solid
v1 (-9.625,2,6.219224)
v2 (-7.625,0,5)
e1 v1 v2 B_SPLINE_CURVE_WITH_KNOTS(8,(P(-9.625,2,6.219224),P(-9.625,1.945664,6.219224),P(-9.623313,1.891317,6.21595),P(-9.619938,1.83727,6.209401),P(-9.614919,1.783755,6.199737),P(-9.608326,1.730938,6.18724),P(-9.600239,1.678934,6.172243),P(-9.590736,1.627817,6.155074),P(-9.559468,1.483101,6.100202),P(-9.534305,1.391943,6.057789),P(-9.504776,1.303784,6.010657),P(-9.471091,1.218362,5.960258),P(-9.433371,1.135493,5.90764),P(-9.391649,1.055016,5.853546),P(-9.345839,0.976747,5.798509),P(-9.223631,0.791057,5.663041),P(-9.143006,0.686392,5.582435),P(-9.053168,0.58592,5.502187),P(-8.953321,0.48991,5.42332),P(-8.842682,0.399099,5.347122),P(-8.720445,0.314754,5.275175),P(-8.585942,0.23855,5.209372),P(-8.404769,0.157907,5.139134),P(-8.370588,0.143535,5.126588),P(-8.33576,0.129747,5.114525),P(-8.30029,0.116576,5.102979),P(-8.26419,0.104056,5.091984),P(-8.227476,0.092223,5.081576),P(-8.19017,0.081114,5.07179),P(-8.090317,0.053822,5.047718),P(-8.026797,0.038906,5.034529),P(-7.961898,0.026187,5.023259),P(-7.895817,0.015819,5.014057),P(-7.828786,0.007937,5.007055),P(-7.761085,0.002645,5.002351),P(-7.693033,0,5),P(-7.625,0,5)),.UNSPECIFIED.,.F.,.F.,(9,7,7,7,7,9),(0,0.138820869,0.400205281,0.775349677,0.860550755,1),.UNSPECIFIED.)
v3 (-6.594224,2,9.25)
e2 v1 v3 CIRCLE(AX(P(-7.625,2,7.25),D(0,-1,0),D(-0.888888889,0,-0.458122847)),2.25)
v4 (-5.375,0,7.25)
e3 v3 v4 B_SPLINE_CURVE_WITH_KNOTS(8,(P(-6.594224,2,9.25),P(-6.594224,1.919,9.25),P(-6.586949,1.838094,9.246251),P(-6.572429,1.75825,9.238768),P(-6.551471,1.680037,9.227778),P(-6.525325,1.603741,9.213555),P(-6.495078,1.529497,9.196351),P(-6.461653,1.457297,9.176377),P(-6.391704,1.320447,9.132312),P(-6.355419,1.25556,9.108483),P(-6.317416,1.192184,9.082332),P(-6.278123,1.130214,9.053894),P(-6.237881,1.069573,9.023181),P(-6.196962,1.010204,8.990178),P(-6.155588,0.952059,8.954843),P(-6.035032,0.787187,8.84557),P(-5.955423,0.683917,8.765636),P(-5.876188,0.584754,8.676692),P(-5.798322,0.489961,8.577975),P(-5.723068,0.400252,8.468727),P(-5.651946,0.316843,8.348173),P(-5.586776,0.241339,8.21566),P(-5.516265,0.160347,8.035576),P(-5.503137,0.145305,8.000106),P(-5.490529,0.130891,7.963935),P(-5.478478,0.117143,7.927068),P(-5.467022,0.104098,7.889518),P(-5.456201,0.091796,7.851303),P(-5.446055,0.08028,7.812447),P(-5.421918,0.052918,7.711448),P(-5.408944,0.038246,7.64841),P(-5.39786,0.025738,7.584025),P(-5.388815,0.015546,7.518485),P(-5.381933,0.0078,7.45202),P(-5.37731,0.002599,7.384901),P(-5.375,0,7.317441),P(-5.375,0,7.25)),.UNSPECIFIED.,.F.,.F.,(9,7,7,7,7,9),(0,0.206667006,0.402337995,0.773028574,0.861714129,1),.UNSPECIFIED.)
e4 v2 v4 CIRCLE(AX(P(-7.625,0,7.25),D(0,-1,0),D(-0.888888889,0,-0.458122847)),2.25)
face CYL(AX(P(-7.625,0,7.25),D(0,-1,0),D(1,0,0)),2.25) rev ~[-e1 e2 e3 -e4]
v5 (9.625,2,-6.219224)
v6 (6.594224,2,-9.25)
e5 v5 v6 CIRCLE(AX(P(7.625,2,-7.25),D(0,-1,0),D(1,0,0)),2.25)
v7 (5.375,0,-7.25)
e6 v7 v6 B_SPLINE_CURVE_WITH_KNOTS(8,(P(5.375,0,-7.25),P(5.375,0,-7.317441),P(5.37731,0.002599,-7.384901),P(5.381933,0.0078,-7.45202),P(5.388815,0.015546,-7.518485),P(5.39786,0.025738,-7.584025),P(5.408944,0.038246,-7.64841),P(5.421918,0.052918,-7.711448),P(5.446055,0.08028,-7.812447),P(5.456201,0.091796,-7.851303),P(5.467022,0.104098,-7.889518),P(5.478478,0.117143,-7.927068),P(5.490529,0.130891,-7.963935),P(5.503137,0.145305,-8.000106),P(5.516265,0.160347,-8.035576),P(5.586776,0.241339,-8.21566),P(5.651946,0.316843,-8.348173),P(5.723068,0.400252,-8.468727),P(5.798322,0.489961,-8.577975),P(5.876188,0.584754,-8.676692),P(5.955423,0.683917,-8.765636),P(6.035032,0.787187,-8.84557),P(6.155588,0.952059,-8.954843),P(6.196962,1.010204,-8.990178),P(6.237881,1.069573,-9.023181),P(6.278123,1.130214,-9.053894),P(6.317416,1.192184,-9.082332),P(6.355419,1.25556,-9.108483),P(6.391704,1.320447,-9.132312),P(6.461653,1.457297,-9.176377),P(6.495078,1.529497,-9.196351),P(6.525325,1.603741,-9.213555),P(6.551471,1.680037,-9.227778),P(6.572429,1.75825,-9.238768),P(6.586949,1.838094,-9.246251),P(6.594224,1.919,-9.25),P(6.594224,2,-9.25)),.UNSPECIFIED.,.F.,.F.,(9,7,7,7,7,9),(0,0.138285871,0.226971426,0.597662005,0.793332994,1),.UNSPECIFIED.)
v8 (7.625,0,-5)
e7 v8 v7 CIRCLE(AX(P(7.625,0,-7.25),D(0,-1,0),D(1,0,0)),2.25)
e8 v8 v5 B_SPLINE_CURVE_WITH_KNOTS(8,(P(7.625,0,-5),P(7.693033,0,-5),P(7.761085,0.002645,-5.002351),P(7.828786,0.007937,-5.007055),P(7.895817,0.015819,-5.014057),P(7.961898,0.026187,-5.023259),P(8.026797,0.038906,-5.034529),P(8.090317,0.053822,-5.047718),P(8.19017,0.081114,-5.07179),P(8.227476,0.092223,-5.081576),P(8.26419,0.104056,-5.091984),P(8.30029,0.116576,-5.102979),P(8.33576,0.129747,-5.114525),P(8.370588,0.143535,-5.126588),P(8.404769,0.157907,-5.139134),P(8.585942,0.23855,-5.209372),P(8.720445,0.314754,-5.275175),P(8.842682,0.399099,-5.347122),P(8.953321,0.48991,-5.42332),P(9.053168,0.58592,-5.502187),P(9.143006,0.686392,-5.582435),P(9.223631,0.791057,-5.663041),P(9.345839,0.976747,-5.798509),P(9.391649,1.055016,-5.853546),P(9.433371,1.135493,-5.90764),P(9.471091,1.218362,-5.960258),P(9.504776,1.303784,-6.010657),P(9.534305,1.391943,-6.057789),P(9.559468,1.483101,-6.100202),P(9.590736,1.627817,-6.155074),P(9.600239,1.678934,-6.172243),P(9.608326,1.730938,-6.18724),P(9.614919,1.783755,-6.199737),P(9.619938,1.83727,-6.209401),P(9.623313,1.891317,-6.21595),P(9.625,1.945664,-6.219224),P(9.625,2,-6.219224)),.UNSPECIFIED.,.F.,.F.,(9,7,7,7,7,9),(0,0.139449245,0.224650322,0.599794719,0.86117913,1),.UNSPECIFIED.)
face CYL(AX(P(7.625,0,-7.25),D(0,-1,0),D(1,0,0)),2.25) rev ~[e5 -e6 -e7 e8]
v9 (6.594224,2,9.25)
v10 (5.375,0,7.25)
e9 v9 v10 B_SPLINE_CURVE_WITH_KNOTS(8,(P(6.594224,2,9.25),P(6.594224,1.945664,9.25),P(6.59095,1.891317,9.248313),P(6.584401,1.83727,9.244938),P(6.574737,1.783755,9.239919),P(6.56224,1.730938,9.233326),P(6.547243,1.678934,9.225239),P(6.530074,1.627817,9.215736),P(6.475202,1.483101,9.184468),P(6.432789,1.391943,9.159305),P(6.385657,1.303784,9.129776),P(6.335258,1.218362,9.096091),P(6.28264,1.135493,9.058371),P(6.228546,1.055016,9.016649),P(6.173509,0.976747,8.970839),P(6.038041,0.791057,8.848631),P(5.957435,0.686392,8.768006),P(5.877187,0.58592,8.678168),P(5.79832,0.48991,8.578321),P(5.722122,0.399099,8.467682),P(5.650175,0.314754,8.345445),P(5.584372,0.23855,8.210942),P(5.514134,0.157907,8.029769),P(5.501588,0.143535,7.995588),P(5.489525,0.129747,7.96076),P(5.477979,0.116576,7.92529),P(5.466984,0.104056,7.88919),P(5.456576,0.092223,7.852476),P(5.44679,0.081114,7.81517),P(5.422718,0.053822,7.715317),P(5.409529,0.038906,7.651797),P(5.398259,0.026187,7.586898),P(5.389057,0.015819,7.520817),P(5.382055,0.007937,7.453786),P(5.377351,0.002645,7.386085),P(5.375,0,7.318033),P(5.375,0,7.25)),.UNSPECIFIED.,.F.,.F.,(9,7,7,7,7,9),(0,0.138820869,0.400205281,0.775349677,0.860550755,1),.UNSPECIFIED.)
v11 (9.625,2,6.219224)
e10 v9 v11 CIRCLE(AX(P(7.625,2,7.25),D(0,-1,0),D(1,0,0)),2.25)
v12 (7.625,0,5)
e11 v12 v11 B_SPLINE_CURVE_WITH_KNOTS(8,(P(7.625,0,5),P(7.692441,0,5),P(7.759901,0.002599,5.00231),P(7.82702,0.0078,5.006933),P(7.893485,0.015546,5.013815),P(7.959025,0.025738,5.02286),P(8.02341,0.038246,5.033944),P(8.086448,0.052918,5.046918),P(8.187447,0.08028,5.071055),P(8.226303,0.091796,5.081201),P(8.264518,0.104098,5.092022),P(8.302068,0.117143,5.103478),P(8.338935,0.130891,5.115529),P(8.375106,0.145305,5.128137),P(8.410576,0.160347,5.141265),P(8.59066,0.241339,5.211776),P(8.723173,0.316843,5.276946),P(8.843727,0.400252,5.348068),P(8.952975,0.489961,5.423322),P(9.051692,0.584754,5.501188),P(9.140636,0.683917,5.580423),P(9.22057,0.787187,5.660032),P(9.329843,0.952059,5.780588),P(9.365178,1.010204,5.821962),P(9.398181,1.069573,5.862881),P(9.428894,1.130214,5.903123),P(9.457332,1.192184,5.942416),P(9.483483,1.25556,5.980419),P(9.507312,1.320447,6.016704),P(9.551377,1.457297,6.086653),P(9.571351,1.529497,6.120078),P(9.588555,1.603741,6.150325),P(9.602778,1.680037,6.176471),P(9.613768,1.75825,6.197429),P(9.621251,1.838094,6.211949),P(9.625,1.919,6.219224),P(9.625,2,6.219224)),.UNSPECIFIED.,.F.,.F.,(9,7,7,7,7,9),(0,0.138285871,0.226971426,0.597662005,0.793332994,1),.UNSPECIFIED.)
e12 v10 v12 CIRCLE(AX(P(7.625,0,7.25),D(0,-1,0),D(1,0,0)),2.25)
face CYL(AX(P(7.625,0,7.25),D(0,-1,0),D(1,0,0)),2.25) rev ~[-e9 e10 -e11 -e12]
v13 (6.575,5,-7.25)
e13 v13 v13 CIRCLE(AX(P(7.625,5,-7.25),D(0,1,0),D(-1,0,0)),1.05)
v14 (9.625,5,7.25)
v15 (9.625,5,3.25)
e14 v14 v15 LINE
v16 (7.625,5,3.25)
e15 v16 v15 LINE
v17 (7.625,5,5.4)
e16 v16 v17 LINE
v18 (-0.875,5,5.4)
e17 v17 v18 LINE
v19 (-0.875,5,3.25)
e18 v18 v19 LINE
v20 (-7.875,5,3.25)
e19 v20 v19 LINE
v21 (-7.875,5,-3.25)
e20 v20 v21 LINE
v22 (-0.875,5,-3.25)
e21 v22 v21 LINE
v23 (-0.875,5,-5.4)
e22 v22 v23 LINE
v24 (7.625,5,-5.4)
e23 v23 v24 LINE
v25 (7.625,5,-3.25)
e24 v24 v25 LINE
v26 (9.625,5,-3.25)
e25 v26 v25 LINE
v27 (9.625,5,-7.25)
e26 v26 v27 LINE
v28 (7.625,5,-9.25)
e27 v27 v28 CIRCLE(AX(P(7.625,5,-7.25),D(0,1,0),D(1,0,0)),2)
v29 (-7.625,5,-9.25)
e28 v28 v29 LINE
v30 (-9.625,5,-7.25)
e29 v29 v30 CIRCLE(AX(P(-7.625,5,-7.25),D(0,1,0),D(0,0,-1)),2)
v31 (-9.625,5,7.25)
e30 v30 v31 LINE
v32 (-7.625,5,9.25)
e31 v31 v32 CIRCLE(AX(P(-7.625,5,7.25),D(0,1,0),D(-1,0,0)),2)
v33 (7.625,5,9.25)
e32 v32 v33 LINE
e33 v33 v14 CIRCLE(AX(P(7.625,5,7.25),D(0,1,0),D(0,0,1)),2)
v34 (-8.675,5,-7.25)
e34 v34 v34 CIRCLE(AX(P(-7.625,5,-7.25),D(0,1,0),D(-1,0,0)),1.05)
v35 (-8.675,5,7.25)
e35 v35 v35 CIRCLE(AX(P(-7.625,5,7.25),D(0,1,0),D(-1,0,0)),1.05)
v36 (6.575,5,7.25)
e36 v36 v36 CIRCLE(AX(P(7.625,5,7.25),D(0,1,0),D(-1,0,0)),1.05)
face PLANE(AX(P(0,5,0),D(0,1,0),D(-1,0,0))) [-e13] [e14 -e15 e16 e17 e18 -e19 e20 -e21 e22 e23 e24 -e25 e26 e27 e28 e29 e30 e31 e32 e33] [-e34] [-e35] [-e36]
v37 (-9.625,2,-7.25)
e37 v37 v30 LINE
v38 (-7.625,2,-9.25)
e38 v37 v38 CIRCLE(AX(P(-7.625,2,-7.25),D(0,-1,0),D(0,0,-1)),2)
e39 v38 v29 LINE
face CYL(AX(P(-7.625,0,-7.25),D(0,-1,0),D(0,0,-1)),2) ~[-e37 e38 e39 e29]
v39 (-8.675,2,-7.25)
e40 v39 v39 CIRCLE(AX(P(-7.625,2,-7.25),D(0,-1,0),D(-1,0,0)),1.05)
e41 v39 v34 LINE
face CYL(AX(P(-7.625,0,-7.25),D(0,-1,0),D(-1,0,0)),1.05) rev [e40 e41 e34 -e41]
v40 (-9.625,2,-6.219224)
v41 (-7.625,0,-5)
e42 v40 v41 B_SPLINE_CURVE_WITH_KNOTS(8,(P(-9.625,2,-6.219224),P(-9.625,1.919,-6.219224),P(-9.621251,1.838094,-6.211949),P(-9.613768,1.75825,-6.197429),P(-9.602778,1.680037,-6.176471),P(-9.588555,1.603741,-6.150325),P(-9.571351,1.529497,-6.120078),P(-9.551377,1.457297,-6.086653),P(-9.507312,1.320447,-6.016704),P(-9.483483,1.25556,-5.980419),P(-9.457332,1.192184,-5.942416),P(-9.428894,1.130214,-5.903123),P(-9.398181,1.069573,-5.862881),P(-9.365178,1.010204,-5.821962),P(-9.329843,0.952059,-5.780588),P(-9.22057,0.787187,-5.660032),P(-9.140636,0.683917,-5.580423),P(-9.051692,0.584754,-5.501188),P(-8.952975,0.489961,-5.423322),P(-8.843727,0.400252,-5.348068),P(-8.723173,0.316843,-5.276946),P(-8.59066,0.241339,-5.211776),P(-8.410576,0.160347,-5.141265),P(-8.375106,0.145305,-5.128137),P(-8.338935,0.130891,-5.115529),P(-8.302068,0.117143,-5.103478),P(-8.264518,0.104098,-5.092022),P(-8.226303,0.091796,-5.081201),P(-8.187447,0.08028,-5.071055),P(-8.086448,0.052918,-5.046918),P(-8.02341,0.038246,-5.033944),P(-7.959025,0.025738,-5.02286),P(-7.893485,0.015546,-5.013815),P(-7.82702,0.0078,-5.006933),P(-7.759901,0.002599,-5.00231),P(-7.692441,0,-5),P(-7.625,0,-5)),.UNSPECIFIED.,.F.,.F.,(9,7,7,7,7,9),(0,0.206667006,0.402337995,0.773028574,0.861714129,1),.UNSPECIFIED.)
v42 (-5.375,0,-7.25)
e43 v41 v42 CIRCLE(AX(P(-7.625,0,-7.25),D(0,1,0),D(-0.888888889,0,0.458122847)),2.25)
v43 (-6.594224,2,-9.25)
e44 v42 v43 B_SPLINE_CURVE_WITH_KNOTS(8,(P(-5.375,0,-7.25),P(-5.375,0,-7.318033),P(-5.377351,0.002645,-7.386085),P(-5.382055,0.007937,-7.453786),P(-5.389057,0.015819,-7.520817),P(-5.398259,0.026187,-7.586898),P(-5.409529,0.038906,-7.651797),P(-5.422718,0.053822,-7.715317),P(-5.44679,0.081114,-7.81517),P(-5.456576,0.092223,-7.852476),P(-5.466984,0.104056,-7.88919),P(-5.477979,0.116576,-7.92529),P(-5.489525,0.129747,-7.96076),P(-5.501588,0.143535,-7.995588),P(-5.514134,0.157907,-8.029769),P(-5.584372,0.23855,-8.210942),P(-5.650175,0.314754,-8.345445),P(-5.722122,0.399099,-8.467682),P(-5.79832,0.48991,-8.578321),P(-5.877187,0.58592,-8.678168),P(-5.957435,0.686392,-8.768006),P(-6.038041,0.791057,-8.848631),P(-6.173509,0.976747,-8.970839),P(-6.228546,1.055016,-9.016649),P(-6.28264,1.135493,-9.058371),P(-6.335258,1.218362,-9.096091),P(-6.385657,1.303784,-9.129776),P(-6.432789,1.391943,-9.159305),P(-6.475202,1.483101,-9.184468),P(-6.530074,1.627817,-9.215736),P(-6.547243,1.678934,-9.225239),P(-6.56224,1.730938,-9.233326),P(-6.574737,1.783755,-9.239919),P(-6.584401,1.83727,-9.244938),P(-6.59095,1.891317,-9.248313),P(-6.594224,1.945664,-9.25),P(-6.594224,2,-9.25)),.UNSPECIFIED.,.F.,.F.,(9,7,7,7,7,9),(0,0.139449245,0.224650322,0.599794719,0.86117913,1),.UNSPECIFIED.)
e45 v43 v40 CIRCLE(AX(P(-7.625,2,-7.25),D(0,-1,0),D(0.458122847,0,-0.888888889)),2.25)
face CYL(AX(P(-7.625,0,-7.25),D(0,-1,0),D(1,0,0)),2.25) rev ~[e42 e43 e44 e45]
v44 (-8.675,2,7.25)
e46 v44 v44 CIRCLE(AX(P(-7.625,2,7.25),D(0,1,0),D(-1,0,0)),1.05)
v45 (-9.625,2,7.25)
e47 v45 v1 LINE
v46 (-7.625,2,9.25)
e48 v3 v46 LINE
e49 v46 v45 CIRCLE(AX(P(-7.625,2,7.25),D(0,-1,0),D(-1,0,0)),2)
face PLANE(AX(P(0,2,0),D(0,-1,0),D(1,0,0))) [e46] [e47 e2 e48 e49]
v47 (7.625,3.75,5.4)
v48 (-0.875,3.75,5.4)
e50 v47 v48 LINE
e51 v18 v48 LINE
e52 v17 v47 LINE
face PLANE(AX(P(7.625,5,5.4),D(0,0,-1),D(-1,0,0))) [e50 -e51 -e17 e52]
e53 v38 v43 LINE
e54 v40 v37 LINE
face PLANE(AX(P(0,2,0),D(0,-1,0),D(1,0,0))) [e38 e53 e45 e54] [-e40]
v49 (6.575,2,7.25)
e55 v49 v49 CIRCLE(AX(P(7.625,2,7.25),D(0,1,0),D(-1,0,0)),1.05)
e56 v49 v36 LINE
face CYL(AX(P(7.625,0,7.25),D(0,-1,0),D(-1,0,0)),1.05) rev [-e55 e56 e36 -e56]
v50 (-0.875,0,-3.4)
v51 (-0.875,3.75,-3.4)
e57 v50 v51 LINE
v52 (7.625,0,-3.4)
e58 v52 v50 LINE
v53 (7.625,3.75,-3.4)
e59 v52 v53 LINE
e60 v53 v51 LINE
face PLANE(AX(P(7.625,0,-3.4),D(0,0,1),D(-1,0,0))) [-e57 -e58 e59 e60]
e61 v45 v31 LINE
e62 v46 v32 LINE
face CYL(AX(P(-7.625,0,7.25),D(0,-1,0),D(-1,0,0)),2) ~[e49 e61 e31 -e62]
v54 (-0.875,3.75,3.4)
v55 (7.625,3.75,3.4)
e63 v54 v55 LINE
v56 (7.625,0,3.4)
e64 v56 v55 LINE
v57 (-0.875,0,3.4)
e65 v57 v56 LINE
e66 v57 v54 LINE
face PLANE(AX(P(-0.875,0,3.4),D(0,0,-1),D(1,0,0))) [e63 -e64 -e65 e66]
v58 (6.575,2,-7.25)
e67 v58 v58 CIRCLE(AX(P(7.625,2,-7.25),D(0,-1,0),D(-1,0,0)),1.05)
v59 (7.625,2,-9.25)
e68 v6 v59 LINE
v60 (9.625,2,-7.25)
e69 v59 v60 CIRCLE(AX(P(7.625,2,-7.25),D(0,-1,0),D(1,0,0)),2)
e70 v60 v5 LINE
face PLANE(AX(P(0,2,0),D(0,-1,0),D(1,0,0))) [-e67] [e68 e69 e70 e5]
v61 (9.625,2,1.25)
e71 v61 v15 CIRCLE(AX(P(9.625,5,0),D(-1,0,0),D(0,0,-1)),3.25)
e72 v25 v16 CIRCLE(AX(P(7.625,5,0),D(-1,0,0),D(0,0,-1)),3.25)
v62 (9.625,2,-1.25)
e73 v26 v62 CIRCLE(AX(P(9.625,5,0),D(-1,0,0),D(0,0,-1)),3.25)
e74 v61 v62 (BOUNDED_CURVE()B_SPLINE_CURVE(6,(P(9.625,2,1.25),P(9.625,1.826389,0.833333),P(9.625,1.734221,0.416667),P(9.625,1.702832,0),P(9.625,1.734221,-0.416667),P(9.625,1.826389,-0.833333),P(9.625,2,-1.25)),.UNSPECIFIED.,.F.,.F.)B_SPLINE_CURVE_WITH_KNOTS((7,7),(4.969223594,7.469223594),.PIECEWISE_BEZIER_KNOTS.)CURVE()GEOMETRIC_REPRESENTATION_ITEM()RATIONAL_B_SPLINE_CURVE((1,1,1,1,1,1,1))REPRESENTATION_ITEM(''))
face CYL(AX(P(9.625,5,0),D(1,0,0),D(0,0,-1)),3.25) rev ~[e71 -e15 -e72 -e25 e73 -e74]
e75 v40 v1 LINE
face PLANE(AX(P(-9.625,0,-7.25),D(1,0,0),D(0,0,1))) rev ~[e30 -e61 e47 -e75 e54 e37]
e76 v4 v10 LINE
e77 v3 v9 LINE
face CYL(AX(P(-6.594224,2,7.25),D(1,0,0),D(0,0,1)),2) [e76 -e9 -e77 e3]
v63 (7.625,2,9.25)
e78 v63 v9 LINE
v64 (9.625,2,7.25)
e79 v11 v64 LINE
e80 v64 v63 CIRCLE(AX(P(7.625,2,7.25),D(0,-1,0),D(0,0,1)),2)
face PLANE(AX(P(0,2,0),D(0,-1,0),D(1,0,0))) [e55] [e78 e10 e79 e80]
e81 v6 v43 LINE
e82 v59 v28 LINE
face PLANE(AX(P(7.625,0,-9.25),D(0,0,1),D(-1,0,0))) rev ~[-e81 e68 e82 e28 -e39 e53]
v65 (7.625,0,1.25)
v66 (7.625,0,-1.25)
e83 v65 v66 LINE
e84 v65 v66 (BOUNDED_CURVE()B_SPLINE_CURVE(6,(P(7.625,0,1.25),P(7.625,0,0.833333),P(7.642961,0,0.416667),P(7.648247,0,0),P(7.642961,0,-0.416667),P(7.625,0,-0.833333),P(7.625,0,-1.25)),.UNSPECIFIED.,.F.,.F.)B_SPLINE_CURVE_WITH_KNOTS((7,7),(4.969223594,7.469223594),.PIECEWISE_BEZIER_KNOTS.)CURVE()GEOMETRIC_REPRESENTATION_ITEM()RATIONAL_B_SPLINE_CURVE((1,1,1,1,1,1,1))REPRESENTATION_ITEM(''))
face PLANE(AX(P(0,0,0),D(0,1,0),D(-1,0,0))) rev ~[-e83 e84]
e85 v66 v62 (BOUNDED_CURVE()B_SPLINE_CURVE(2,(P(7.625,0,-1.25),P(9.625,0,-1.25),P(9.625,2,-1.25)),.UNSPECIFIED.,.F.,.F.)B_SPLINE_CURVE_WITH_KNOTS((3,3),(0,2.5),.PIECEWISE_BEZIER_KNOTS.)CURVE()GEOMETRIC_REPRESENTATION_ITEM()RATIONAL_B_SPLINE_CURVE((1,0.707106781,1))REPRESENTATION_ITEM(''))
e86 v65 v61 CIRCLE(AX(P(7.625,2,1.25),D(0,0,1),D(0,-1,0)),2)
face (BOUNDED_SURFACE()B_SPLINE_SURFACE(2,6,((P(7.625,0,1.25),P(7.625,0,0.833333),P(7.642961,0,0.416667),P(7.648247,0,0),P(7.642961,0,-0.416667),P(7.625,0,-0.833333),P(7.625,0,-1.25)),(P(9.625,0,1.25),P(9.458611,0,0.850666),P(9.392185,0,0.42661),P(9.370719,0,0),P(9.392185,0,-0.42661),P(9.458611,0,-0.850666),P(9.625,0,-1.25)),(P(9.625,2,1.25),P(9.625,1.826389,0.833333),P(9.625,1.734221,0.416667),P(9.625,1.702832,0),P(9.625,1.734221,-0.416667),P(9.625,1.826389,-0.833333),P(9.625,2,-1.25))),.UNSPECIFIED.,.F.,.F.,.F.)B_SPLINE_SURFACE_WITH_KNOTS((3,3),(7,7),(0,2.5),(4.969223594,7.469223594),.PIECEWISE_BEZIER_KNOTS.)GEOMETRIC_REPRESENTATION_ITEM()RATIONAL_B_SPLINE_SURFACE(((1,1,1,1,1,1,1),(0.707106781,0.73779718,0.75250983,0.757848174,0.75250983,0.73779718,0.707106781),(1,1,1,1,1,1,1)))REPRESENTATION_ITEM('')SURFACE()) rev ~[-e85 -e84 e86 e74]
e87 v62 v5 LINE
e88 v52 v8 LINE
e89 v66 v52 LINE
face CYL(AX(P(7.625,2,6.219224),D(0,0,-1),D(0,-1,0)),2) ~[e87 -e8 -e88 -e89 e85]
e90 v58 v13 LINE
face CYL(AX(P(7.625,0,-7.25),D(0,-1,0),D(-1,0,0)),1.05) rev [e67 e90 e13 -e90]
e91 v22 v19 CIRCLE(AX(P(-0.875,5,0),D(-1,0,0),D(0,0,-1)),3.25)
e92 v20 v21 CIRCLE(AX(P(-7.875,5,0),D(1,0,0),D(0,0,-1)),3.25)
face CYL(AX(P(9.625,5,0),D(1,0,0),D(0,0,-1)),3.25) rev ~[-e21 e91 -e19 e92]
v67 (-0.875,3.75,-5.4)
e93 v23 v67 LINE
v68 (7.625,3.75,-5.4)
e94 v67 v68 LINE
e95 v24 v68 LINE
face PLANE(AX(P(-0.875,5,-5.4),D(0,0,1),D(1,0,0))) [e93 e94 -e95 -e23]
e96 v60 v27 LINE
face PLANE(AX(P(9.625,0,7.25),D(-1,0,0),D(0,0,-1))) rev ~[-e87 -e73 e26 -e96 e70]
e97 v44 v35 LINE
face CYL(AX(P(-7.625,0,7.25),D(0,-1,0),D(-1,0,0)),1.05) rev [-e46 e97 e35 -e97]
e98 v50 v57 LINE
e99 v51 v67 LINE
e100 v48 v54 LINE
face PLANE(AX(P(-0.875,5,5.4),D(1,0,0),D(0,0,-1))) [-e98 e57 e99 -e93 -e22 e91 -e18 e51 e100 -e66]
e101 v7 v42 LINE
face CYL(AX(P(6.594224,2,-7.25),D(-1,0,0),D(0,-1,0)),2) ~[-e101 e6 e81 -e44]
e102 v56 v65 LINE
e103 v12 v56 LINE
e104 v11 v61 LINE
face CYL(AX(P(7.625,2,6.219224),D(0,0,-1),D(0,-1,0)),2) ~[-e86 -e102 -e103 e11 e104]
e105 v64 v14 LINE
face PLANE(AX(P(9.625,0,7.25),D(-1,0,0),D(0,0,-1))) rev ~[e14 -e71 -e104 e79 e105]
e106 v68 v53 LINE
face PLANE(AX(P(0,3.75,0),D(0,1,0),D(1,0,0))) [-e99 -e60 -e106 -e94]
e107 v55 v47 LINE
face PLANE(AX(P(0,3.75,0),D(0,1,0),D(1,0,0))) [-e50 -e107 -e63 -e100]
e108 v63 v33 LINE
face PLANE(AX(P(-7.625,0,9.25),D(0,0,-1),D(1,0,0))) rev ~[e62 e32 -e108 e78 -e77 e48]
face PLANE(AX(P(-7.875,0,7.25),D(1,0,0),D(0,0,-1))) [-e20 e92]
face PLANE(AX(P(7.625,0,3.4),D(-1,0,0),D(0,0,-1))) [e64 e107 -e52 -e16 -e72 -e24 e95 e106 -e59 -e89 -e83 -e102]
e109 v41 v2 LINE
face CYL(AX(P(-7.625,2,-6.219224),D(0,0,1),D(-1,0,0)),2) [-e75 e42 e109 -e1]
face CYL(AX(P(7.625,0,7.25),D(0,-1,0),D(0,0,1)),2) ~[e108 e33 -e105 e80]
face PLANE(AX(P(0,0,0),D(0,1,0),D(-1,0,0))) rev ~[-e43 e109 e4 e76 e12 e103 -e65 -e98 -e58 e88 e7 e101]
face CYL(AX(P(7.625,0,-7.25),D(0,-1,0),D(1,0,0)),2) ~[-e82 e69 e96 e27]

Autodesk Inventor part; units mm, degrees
ref_plane "YZ Plane" through (0, 0, 0) normal (1, 0, 0) x (0, 1, 0)
ref_plane "XZ Plane" through (0, 0, 0) normal (0, 1, 0) x (-1, 0, 0)
ref_plane "XY Plane" through (0, 0, 0) normal (0, 0, 1) x (1, 0, 0)
sketch "スケッチ1" plane through (0, 0, 0) normal (0, 0, 1) x (1, 0, 0)
  point P0 (0, 0)
sketch "スケッチ2" plane through (0, 0, 0) normal (0, 1, 0) x (-1, 0, 0)
  line L0 (7.625, 9.25) -> (-7.625, 9.25)
  line L1 (-9.625, 7.25) -> (-9.625, -7.25)
  line L2 (-7.625, -9.25) -> (7.625, -9.25)
  line L3 (9.625, -7.25) -> (9.625, 7.25)
  line L4 (9.625, 9.25) -> (-9.625, -9.25) construction
  line L5 (-9.625, 9.25) -> (9.625, -9.25) construction
  circle A0 centre (7.625, -7.25) radius 1.05
  arc A1 (7.625, -9.25) -> (9.625, -7.25) centre (7.625, -7.25) ccw
  circle A2 centre (7.625, 7.25) radius 1.05
  arc A3 (9.625, 7.25) -> (7.625, 9.25) centre (7.625, 7.25) ccw
  circle A4 centre (-7.625, 7.25) radius 1.05
  circle A5 centre (-7.625, -7.25) radius 1.05
  arc A6 (-7.625, 9.25) -> (-9.625, 7.25) centre (-7.625, 7.25) ccw
  arc A7 (-9.625, -7.25) -> (-7.625, -9.25) centre (-7.625, -7.25) ccw
  point P0 (0, 0)
  dimension "d0" = 19.25
  dimension "d1" = 18.5
  dimension "ねじ穴" = 2.1
  dimension "d6" = 2
  dimension "d7" = 2
  dimension "d8" = 2
  dimension "d9" = 2
  dimension "d10" = 2.1
  dimension "d11" = 2.1
  dimension "d12" = 2.1
  dimension "d13" = 2
  dimension "d14" = 2
  dimension "d15" = 2
  dimension "d16" = 2
extrude "押し出し1" add sketch "スケッチ2" along normal blind 5
sketch "スケッチ3" plane through (9.625, 0, 7.25) normal (1, 0, 0) x (0, 0, -1)
  line L0 (0, 5) -> (14.5, 5) projected
  circle A0 centre (7.25, 5) radius 3.25
  point P0 (7.25, 0)
  dimension "d19" = 6.5
extrude "押し出し2" cut sketch "スケッチ3" against normal blind 17.5
sketch "スケッチ4" plane through (0, 0, 0) normal (0, -1, 0) x (1, 0, 0)
  circle A0 centre (-7.625, 7.25) radius 1.05 projected
  circle A1 centre (-7.625, 7.25) radius 2.25
  circle A2 centre (7.625, 7.25) radius 1.05 projected
  circle A3 centre (7.625, 7.25) radius 2.25
  circle A4 centre (7.625, -7.25) radius 1.05 projected
  circle A5 centre (7.625, -7.25) radius 2.25
  circle A6 centre (-7.625, -7.25) radius 1.05 projected
  circle A7 centre (-7.625, -7.25) radius 2.25
  point P0 (0, 0)
  dimension "d22" = 4.5
  dimension "d23" = 4.5
  dimension "d24" = 4.5
  dimension "d25" = 4.5
extrude "押し出し3" cut sketch "スケッチ4" against normal blind 2
fillet "フィレット1" radius 2 4 edges at (0, 0, 9.25) (-9.625, 0, 0) (0, 0, -9.25) (9.625, 0, 0)
sketch "スケッチ5" plane through (0, 0, 0) normal (0, -1, 0) x (1, 0, 0)
  line L0 (-0.875, 3.4) -> (7.625, 3.4)
  line L1 (7.625, 3.4) -> (7.625, -3.4)
  line L2 (7.625, -3.4) -> (-0.875, -3.4)
  line L3 (-0.875, -3.4) -> (-0.875, 3.4)
  line L4 (9.625, 1.25) -> (9.625, 6.2192) projected
  point P0 (0, 0)
  point P1 (-0.875, 0)
  dimension "d29" = 2
  dimension "d30" = 6.8
  dimension "d31" = 8.5
  dimension "d32" = 0
extrude "押し出し4" cut sketch "スケッチ5" against normal through all
sketch "スケッチ6" plane through (0, 5, 0) normal (0, 1, 0) x (1, 0, 0)
  line L0 (7.625, -5.4) -> (-0.875, -5.4)
  line L1 (-0.875, -5.4) -> (-0.875, 5.4)
  line L2 (-0.875, 5.4) -> (7.625, 5.4)
  line L3 (7.625, 5.4) -> (7.625, -5.4)
  line L4 (9.625, -7.25) -> (9.625, -3.25) projected
  point P0 (0, 0)
  point P1 (-0.875, 0)
  point P2 (-0.875, -3.4)
  point P3 (7.625, -3.4)
  dimension "d35" = 2
  dimension "d36" = 8.5
  dimension "d37" = 10.8
  dimension "d38" = 0
  dimension "d39" = 8.5
extrude "押し出し5" cut sketch "スケッチ6" against normal blind 1.25
equation "\"d7\" = d6"
equation "\"d8\" = d6"
equation "\"d9\" = d6"
equation "\"d10\" = ねじ穴"
equation "\"d11\" = ねじ穴"
equation "\"d12\" = ねじ穴"
equation "\"d13\" = d6"
equation "\"d14\" = d6"
equation "\"d15\" = d6"
equation "\"d16\" = d6"
equation "\"d23\" = d22"
equation "\"d24\" = d22"
equation "\"d25\" = d22"
equation "\"d36\" = d39"
properties part number "カバー"
